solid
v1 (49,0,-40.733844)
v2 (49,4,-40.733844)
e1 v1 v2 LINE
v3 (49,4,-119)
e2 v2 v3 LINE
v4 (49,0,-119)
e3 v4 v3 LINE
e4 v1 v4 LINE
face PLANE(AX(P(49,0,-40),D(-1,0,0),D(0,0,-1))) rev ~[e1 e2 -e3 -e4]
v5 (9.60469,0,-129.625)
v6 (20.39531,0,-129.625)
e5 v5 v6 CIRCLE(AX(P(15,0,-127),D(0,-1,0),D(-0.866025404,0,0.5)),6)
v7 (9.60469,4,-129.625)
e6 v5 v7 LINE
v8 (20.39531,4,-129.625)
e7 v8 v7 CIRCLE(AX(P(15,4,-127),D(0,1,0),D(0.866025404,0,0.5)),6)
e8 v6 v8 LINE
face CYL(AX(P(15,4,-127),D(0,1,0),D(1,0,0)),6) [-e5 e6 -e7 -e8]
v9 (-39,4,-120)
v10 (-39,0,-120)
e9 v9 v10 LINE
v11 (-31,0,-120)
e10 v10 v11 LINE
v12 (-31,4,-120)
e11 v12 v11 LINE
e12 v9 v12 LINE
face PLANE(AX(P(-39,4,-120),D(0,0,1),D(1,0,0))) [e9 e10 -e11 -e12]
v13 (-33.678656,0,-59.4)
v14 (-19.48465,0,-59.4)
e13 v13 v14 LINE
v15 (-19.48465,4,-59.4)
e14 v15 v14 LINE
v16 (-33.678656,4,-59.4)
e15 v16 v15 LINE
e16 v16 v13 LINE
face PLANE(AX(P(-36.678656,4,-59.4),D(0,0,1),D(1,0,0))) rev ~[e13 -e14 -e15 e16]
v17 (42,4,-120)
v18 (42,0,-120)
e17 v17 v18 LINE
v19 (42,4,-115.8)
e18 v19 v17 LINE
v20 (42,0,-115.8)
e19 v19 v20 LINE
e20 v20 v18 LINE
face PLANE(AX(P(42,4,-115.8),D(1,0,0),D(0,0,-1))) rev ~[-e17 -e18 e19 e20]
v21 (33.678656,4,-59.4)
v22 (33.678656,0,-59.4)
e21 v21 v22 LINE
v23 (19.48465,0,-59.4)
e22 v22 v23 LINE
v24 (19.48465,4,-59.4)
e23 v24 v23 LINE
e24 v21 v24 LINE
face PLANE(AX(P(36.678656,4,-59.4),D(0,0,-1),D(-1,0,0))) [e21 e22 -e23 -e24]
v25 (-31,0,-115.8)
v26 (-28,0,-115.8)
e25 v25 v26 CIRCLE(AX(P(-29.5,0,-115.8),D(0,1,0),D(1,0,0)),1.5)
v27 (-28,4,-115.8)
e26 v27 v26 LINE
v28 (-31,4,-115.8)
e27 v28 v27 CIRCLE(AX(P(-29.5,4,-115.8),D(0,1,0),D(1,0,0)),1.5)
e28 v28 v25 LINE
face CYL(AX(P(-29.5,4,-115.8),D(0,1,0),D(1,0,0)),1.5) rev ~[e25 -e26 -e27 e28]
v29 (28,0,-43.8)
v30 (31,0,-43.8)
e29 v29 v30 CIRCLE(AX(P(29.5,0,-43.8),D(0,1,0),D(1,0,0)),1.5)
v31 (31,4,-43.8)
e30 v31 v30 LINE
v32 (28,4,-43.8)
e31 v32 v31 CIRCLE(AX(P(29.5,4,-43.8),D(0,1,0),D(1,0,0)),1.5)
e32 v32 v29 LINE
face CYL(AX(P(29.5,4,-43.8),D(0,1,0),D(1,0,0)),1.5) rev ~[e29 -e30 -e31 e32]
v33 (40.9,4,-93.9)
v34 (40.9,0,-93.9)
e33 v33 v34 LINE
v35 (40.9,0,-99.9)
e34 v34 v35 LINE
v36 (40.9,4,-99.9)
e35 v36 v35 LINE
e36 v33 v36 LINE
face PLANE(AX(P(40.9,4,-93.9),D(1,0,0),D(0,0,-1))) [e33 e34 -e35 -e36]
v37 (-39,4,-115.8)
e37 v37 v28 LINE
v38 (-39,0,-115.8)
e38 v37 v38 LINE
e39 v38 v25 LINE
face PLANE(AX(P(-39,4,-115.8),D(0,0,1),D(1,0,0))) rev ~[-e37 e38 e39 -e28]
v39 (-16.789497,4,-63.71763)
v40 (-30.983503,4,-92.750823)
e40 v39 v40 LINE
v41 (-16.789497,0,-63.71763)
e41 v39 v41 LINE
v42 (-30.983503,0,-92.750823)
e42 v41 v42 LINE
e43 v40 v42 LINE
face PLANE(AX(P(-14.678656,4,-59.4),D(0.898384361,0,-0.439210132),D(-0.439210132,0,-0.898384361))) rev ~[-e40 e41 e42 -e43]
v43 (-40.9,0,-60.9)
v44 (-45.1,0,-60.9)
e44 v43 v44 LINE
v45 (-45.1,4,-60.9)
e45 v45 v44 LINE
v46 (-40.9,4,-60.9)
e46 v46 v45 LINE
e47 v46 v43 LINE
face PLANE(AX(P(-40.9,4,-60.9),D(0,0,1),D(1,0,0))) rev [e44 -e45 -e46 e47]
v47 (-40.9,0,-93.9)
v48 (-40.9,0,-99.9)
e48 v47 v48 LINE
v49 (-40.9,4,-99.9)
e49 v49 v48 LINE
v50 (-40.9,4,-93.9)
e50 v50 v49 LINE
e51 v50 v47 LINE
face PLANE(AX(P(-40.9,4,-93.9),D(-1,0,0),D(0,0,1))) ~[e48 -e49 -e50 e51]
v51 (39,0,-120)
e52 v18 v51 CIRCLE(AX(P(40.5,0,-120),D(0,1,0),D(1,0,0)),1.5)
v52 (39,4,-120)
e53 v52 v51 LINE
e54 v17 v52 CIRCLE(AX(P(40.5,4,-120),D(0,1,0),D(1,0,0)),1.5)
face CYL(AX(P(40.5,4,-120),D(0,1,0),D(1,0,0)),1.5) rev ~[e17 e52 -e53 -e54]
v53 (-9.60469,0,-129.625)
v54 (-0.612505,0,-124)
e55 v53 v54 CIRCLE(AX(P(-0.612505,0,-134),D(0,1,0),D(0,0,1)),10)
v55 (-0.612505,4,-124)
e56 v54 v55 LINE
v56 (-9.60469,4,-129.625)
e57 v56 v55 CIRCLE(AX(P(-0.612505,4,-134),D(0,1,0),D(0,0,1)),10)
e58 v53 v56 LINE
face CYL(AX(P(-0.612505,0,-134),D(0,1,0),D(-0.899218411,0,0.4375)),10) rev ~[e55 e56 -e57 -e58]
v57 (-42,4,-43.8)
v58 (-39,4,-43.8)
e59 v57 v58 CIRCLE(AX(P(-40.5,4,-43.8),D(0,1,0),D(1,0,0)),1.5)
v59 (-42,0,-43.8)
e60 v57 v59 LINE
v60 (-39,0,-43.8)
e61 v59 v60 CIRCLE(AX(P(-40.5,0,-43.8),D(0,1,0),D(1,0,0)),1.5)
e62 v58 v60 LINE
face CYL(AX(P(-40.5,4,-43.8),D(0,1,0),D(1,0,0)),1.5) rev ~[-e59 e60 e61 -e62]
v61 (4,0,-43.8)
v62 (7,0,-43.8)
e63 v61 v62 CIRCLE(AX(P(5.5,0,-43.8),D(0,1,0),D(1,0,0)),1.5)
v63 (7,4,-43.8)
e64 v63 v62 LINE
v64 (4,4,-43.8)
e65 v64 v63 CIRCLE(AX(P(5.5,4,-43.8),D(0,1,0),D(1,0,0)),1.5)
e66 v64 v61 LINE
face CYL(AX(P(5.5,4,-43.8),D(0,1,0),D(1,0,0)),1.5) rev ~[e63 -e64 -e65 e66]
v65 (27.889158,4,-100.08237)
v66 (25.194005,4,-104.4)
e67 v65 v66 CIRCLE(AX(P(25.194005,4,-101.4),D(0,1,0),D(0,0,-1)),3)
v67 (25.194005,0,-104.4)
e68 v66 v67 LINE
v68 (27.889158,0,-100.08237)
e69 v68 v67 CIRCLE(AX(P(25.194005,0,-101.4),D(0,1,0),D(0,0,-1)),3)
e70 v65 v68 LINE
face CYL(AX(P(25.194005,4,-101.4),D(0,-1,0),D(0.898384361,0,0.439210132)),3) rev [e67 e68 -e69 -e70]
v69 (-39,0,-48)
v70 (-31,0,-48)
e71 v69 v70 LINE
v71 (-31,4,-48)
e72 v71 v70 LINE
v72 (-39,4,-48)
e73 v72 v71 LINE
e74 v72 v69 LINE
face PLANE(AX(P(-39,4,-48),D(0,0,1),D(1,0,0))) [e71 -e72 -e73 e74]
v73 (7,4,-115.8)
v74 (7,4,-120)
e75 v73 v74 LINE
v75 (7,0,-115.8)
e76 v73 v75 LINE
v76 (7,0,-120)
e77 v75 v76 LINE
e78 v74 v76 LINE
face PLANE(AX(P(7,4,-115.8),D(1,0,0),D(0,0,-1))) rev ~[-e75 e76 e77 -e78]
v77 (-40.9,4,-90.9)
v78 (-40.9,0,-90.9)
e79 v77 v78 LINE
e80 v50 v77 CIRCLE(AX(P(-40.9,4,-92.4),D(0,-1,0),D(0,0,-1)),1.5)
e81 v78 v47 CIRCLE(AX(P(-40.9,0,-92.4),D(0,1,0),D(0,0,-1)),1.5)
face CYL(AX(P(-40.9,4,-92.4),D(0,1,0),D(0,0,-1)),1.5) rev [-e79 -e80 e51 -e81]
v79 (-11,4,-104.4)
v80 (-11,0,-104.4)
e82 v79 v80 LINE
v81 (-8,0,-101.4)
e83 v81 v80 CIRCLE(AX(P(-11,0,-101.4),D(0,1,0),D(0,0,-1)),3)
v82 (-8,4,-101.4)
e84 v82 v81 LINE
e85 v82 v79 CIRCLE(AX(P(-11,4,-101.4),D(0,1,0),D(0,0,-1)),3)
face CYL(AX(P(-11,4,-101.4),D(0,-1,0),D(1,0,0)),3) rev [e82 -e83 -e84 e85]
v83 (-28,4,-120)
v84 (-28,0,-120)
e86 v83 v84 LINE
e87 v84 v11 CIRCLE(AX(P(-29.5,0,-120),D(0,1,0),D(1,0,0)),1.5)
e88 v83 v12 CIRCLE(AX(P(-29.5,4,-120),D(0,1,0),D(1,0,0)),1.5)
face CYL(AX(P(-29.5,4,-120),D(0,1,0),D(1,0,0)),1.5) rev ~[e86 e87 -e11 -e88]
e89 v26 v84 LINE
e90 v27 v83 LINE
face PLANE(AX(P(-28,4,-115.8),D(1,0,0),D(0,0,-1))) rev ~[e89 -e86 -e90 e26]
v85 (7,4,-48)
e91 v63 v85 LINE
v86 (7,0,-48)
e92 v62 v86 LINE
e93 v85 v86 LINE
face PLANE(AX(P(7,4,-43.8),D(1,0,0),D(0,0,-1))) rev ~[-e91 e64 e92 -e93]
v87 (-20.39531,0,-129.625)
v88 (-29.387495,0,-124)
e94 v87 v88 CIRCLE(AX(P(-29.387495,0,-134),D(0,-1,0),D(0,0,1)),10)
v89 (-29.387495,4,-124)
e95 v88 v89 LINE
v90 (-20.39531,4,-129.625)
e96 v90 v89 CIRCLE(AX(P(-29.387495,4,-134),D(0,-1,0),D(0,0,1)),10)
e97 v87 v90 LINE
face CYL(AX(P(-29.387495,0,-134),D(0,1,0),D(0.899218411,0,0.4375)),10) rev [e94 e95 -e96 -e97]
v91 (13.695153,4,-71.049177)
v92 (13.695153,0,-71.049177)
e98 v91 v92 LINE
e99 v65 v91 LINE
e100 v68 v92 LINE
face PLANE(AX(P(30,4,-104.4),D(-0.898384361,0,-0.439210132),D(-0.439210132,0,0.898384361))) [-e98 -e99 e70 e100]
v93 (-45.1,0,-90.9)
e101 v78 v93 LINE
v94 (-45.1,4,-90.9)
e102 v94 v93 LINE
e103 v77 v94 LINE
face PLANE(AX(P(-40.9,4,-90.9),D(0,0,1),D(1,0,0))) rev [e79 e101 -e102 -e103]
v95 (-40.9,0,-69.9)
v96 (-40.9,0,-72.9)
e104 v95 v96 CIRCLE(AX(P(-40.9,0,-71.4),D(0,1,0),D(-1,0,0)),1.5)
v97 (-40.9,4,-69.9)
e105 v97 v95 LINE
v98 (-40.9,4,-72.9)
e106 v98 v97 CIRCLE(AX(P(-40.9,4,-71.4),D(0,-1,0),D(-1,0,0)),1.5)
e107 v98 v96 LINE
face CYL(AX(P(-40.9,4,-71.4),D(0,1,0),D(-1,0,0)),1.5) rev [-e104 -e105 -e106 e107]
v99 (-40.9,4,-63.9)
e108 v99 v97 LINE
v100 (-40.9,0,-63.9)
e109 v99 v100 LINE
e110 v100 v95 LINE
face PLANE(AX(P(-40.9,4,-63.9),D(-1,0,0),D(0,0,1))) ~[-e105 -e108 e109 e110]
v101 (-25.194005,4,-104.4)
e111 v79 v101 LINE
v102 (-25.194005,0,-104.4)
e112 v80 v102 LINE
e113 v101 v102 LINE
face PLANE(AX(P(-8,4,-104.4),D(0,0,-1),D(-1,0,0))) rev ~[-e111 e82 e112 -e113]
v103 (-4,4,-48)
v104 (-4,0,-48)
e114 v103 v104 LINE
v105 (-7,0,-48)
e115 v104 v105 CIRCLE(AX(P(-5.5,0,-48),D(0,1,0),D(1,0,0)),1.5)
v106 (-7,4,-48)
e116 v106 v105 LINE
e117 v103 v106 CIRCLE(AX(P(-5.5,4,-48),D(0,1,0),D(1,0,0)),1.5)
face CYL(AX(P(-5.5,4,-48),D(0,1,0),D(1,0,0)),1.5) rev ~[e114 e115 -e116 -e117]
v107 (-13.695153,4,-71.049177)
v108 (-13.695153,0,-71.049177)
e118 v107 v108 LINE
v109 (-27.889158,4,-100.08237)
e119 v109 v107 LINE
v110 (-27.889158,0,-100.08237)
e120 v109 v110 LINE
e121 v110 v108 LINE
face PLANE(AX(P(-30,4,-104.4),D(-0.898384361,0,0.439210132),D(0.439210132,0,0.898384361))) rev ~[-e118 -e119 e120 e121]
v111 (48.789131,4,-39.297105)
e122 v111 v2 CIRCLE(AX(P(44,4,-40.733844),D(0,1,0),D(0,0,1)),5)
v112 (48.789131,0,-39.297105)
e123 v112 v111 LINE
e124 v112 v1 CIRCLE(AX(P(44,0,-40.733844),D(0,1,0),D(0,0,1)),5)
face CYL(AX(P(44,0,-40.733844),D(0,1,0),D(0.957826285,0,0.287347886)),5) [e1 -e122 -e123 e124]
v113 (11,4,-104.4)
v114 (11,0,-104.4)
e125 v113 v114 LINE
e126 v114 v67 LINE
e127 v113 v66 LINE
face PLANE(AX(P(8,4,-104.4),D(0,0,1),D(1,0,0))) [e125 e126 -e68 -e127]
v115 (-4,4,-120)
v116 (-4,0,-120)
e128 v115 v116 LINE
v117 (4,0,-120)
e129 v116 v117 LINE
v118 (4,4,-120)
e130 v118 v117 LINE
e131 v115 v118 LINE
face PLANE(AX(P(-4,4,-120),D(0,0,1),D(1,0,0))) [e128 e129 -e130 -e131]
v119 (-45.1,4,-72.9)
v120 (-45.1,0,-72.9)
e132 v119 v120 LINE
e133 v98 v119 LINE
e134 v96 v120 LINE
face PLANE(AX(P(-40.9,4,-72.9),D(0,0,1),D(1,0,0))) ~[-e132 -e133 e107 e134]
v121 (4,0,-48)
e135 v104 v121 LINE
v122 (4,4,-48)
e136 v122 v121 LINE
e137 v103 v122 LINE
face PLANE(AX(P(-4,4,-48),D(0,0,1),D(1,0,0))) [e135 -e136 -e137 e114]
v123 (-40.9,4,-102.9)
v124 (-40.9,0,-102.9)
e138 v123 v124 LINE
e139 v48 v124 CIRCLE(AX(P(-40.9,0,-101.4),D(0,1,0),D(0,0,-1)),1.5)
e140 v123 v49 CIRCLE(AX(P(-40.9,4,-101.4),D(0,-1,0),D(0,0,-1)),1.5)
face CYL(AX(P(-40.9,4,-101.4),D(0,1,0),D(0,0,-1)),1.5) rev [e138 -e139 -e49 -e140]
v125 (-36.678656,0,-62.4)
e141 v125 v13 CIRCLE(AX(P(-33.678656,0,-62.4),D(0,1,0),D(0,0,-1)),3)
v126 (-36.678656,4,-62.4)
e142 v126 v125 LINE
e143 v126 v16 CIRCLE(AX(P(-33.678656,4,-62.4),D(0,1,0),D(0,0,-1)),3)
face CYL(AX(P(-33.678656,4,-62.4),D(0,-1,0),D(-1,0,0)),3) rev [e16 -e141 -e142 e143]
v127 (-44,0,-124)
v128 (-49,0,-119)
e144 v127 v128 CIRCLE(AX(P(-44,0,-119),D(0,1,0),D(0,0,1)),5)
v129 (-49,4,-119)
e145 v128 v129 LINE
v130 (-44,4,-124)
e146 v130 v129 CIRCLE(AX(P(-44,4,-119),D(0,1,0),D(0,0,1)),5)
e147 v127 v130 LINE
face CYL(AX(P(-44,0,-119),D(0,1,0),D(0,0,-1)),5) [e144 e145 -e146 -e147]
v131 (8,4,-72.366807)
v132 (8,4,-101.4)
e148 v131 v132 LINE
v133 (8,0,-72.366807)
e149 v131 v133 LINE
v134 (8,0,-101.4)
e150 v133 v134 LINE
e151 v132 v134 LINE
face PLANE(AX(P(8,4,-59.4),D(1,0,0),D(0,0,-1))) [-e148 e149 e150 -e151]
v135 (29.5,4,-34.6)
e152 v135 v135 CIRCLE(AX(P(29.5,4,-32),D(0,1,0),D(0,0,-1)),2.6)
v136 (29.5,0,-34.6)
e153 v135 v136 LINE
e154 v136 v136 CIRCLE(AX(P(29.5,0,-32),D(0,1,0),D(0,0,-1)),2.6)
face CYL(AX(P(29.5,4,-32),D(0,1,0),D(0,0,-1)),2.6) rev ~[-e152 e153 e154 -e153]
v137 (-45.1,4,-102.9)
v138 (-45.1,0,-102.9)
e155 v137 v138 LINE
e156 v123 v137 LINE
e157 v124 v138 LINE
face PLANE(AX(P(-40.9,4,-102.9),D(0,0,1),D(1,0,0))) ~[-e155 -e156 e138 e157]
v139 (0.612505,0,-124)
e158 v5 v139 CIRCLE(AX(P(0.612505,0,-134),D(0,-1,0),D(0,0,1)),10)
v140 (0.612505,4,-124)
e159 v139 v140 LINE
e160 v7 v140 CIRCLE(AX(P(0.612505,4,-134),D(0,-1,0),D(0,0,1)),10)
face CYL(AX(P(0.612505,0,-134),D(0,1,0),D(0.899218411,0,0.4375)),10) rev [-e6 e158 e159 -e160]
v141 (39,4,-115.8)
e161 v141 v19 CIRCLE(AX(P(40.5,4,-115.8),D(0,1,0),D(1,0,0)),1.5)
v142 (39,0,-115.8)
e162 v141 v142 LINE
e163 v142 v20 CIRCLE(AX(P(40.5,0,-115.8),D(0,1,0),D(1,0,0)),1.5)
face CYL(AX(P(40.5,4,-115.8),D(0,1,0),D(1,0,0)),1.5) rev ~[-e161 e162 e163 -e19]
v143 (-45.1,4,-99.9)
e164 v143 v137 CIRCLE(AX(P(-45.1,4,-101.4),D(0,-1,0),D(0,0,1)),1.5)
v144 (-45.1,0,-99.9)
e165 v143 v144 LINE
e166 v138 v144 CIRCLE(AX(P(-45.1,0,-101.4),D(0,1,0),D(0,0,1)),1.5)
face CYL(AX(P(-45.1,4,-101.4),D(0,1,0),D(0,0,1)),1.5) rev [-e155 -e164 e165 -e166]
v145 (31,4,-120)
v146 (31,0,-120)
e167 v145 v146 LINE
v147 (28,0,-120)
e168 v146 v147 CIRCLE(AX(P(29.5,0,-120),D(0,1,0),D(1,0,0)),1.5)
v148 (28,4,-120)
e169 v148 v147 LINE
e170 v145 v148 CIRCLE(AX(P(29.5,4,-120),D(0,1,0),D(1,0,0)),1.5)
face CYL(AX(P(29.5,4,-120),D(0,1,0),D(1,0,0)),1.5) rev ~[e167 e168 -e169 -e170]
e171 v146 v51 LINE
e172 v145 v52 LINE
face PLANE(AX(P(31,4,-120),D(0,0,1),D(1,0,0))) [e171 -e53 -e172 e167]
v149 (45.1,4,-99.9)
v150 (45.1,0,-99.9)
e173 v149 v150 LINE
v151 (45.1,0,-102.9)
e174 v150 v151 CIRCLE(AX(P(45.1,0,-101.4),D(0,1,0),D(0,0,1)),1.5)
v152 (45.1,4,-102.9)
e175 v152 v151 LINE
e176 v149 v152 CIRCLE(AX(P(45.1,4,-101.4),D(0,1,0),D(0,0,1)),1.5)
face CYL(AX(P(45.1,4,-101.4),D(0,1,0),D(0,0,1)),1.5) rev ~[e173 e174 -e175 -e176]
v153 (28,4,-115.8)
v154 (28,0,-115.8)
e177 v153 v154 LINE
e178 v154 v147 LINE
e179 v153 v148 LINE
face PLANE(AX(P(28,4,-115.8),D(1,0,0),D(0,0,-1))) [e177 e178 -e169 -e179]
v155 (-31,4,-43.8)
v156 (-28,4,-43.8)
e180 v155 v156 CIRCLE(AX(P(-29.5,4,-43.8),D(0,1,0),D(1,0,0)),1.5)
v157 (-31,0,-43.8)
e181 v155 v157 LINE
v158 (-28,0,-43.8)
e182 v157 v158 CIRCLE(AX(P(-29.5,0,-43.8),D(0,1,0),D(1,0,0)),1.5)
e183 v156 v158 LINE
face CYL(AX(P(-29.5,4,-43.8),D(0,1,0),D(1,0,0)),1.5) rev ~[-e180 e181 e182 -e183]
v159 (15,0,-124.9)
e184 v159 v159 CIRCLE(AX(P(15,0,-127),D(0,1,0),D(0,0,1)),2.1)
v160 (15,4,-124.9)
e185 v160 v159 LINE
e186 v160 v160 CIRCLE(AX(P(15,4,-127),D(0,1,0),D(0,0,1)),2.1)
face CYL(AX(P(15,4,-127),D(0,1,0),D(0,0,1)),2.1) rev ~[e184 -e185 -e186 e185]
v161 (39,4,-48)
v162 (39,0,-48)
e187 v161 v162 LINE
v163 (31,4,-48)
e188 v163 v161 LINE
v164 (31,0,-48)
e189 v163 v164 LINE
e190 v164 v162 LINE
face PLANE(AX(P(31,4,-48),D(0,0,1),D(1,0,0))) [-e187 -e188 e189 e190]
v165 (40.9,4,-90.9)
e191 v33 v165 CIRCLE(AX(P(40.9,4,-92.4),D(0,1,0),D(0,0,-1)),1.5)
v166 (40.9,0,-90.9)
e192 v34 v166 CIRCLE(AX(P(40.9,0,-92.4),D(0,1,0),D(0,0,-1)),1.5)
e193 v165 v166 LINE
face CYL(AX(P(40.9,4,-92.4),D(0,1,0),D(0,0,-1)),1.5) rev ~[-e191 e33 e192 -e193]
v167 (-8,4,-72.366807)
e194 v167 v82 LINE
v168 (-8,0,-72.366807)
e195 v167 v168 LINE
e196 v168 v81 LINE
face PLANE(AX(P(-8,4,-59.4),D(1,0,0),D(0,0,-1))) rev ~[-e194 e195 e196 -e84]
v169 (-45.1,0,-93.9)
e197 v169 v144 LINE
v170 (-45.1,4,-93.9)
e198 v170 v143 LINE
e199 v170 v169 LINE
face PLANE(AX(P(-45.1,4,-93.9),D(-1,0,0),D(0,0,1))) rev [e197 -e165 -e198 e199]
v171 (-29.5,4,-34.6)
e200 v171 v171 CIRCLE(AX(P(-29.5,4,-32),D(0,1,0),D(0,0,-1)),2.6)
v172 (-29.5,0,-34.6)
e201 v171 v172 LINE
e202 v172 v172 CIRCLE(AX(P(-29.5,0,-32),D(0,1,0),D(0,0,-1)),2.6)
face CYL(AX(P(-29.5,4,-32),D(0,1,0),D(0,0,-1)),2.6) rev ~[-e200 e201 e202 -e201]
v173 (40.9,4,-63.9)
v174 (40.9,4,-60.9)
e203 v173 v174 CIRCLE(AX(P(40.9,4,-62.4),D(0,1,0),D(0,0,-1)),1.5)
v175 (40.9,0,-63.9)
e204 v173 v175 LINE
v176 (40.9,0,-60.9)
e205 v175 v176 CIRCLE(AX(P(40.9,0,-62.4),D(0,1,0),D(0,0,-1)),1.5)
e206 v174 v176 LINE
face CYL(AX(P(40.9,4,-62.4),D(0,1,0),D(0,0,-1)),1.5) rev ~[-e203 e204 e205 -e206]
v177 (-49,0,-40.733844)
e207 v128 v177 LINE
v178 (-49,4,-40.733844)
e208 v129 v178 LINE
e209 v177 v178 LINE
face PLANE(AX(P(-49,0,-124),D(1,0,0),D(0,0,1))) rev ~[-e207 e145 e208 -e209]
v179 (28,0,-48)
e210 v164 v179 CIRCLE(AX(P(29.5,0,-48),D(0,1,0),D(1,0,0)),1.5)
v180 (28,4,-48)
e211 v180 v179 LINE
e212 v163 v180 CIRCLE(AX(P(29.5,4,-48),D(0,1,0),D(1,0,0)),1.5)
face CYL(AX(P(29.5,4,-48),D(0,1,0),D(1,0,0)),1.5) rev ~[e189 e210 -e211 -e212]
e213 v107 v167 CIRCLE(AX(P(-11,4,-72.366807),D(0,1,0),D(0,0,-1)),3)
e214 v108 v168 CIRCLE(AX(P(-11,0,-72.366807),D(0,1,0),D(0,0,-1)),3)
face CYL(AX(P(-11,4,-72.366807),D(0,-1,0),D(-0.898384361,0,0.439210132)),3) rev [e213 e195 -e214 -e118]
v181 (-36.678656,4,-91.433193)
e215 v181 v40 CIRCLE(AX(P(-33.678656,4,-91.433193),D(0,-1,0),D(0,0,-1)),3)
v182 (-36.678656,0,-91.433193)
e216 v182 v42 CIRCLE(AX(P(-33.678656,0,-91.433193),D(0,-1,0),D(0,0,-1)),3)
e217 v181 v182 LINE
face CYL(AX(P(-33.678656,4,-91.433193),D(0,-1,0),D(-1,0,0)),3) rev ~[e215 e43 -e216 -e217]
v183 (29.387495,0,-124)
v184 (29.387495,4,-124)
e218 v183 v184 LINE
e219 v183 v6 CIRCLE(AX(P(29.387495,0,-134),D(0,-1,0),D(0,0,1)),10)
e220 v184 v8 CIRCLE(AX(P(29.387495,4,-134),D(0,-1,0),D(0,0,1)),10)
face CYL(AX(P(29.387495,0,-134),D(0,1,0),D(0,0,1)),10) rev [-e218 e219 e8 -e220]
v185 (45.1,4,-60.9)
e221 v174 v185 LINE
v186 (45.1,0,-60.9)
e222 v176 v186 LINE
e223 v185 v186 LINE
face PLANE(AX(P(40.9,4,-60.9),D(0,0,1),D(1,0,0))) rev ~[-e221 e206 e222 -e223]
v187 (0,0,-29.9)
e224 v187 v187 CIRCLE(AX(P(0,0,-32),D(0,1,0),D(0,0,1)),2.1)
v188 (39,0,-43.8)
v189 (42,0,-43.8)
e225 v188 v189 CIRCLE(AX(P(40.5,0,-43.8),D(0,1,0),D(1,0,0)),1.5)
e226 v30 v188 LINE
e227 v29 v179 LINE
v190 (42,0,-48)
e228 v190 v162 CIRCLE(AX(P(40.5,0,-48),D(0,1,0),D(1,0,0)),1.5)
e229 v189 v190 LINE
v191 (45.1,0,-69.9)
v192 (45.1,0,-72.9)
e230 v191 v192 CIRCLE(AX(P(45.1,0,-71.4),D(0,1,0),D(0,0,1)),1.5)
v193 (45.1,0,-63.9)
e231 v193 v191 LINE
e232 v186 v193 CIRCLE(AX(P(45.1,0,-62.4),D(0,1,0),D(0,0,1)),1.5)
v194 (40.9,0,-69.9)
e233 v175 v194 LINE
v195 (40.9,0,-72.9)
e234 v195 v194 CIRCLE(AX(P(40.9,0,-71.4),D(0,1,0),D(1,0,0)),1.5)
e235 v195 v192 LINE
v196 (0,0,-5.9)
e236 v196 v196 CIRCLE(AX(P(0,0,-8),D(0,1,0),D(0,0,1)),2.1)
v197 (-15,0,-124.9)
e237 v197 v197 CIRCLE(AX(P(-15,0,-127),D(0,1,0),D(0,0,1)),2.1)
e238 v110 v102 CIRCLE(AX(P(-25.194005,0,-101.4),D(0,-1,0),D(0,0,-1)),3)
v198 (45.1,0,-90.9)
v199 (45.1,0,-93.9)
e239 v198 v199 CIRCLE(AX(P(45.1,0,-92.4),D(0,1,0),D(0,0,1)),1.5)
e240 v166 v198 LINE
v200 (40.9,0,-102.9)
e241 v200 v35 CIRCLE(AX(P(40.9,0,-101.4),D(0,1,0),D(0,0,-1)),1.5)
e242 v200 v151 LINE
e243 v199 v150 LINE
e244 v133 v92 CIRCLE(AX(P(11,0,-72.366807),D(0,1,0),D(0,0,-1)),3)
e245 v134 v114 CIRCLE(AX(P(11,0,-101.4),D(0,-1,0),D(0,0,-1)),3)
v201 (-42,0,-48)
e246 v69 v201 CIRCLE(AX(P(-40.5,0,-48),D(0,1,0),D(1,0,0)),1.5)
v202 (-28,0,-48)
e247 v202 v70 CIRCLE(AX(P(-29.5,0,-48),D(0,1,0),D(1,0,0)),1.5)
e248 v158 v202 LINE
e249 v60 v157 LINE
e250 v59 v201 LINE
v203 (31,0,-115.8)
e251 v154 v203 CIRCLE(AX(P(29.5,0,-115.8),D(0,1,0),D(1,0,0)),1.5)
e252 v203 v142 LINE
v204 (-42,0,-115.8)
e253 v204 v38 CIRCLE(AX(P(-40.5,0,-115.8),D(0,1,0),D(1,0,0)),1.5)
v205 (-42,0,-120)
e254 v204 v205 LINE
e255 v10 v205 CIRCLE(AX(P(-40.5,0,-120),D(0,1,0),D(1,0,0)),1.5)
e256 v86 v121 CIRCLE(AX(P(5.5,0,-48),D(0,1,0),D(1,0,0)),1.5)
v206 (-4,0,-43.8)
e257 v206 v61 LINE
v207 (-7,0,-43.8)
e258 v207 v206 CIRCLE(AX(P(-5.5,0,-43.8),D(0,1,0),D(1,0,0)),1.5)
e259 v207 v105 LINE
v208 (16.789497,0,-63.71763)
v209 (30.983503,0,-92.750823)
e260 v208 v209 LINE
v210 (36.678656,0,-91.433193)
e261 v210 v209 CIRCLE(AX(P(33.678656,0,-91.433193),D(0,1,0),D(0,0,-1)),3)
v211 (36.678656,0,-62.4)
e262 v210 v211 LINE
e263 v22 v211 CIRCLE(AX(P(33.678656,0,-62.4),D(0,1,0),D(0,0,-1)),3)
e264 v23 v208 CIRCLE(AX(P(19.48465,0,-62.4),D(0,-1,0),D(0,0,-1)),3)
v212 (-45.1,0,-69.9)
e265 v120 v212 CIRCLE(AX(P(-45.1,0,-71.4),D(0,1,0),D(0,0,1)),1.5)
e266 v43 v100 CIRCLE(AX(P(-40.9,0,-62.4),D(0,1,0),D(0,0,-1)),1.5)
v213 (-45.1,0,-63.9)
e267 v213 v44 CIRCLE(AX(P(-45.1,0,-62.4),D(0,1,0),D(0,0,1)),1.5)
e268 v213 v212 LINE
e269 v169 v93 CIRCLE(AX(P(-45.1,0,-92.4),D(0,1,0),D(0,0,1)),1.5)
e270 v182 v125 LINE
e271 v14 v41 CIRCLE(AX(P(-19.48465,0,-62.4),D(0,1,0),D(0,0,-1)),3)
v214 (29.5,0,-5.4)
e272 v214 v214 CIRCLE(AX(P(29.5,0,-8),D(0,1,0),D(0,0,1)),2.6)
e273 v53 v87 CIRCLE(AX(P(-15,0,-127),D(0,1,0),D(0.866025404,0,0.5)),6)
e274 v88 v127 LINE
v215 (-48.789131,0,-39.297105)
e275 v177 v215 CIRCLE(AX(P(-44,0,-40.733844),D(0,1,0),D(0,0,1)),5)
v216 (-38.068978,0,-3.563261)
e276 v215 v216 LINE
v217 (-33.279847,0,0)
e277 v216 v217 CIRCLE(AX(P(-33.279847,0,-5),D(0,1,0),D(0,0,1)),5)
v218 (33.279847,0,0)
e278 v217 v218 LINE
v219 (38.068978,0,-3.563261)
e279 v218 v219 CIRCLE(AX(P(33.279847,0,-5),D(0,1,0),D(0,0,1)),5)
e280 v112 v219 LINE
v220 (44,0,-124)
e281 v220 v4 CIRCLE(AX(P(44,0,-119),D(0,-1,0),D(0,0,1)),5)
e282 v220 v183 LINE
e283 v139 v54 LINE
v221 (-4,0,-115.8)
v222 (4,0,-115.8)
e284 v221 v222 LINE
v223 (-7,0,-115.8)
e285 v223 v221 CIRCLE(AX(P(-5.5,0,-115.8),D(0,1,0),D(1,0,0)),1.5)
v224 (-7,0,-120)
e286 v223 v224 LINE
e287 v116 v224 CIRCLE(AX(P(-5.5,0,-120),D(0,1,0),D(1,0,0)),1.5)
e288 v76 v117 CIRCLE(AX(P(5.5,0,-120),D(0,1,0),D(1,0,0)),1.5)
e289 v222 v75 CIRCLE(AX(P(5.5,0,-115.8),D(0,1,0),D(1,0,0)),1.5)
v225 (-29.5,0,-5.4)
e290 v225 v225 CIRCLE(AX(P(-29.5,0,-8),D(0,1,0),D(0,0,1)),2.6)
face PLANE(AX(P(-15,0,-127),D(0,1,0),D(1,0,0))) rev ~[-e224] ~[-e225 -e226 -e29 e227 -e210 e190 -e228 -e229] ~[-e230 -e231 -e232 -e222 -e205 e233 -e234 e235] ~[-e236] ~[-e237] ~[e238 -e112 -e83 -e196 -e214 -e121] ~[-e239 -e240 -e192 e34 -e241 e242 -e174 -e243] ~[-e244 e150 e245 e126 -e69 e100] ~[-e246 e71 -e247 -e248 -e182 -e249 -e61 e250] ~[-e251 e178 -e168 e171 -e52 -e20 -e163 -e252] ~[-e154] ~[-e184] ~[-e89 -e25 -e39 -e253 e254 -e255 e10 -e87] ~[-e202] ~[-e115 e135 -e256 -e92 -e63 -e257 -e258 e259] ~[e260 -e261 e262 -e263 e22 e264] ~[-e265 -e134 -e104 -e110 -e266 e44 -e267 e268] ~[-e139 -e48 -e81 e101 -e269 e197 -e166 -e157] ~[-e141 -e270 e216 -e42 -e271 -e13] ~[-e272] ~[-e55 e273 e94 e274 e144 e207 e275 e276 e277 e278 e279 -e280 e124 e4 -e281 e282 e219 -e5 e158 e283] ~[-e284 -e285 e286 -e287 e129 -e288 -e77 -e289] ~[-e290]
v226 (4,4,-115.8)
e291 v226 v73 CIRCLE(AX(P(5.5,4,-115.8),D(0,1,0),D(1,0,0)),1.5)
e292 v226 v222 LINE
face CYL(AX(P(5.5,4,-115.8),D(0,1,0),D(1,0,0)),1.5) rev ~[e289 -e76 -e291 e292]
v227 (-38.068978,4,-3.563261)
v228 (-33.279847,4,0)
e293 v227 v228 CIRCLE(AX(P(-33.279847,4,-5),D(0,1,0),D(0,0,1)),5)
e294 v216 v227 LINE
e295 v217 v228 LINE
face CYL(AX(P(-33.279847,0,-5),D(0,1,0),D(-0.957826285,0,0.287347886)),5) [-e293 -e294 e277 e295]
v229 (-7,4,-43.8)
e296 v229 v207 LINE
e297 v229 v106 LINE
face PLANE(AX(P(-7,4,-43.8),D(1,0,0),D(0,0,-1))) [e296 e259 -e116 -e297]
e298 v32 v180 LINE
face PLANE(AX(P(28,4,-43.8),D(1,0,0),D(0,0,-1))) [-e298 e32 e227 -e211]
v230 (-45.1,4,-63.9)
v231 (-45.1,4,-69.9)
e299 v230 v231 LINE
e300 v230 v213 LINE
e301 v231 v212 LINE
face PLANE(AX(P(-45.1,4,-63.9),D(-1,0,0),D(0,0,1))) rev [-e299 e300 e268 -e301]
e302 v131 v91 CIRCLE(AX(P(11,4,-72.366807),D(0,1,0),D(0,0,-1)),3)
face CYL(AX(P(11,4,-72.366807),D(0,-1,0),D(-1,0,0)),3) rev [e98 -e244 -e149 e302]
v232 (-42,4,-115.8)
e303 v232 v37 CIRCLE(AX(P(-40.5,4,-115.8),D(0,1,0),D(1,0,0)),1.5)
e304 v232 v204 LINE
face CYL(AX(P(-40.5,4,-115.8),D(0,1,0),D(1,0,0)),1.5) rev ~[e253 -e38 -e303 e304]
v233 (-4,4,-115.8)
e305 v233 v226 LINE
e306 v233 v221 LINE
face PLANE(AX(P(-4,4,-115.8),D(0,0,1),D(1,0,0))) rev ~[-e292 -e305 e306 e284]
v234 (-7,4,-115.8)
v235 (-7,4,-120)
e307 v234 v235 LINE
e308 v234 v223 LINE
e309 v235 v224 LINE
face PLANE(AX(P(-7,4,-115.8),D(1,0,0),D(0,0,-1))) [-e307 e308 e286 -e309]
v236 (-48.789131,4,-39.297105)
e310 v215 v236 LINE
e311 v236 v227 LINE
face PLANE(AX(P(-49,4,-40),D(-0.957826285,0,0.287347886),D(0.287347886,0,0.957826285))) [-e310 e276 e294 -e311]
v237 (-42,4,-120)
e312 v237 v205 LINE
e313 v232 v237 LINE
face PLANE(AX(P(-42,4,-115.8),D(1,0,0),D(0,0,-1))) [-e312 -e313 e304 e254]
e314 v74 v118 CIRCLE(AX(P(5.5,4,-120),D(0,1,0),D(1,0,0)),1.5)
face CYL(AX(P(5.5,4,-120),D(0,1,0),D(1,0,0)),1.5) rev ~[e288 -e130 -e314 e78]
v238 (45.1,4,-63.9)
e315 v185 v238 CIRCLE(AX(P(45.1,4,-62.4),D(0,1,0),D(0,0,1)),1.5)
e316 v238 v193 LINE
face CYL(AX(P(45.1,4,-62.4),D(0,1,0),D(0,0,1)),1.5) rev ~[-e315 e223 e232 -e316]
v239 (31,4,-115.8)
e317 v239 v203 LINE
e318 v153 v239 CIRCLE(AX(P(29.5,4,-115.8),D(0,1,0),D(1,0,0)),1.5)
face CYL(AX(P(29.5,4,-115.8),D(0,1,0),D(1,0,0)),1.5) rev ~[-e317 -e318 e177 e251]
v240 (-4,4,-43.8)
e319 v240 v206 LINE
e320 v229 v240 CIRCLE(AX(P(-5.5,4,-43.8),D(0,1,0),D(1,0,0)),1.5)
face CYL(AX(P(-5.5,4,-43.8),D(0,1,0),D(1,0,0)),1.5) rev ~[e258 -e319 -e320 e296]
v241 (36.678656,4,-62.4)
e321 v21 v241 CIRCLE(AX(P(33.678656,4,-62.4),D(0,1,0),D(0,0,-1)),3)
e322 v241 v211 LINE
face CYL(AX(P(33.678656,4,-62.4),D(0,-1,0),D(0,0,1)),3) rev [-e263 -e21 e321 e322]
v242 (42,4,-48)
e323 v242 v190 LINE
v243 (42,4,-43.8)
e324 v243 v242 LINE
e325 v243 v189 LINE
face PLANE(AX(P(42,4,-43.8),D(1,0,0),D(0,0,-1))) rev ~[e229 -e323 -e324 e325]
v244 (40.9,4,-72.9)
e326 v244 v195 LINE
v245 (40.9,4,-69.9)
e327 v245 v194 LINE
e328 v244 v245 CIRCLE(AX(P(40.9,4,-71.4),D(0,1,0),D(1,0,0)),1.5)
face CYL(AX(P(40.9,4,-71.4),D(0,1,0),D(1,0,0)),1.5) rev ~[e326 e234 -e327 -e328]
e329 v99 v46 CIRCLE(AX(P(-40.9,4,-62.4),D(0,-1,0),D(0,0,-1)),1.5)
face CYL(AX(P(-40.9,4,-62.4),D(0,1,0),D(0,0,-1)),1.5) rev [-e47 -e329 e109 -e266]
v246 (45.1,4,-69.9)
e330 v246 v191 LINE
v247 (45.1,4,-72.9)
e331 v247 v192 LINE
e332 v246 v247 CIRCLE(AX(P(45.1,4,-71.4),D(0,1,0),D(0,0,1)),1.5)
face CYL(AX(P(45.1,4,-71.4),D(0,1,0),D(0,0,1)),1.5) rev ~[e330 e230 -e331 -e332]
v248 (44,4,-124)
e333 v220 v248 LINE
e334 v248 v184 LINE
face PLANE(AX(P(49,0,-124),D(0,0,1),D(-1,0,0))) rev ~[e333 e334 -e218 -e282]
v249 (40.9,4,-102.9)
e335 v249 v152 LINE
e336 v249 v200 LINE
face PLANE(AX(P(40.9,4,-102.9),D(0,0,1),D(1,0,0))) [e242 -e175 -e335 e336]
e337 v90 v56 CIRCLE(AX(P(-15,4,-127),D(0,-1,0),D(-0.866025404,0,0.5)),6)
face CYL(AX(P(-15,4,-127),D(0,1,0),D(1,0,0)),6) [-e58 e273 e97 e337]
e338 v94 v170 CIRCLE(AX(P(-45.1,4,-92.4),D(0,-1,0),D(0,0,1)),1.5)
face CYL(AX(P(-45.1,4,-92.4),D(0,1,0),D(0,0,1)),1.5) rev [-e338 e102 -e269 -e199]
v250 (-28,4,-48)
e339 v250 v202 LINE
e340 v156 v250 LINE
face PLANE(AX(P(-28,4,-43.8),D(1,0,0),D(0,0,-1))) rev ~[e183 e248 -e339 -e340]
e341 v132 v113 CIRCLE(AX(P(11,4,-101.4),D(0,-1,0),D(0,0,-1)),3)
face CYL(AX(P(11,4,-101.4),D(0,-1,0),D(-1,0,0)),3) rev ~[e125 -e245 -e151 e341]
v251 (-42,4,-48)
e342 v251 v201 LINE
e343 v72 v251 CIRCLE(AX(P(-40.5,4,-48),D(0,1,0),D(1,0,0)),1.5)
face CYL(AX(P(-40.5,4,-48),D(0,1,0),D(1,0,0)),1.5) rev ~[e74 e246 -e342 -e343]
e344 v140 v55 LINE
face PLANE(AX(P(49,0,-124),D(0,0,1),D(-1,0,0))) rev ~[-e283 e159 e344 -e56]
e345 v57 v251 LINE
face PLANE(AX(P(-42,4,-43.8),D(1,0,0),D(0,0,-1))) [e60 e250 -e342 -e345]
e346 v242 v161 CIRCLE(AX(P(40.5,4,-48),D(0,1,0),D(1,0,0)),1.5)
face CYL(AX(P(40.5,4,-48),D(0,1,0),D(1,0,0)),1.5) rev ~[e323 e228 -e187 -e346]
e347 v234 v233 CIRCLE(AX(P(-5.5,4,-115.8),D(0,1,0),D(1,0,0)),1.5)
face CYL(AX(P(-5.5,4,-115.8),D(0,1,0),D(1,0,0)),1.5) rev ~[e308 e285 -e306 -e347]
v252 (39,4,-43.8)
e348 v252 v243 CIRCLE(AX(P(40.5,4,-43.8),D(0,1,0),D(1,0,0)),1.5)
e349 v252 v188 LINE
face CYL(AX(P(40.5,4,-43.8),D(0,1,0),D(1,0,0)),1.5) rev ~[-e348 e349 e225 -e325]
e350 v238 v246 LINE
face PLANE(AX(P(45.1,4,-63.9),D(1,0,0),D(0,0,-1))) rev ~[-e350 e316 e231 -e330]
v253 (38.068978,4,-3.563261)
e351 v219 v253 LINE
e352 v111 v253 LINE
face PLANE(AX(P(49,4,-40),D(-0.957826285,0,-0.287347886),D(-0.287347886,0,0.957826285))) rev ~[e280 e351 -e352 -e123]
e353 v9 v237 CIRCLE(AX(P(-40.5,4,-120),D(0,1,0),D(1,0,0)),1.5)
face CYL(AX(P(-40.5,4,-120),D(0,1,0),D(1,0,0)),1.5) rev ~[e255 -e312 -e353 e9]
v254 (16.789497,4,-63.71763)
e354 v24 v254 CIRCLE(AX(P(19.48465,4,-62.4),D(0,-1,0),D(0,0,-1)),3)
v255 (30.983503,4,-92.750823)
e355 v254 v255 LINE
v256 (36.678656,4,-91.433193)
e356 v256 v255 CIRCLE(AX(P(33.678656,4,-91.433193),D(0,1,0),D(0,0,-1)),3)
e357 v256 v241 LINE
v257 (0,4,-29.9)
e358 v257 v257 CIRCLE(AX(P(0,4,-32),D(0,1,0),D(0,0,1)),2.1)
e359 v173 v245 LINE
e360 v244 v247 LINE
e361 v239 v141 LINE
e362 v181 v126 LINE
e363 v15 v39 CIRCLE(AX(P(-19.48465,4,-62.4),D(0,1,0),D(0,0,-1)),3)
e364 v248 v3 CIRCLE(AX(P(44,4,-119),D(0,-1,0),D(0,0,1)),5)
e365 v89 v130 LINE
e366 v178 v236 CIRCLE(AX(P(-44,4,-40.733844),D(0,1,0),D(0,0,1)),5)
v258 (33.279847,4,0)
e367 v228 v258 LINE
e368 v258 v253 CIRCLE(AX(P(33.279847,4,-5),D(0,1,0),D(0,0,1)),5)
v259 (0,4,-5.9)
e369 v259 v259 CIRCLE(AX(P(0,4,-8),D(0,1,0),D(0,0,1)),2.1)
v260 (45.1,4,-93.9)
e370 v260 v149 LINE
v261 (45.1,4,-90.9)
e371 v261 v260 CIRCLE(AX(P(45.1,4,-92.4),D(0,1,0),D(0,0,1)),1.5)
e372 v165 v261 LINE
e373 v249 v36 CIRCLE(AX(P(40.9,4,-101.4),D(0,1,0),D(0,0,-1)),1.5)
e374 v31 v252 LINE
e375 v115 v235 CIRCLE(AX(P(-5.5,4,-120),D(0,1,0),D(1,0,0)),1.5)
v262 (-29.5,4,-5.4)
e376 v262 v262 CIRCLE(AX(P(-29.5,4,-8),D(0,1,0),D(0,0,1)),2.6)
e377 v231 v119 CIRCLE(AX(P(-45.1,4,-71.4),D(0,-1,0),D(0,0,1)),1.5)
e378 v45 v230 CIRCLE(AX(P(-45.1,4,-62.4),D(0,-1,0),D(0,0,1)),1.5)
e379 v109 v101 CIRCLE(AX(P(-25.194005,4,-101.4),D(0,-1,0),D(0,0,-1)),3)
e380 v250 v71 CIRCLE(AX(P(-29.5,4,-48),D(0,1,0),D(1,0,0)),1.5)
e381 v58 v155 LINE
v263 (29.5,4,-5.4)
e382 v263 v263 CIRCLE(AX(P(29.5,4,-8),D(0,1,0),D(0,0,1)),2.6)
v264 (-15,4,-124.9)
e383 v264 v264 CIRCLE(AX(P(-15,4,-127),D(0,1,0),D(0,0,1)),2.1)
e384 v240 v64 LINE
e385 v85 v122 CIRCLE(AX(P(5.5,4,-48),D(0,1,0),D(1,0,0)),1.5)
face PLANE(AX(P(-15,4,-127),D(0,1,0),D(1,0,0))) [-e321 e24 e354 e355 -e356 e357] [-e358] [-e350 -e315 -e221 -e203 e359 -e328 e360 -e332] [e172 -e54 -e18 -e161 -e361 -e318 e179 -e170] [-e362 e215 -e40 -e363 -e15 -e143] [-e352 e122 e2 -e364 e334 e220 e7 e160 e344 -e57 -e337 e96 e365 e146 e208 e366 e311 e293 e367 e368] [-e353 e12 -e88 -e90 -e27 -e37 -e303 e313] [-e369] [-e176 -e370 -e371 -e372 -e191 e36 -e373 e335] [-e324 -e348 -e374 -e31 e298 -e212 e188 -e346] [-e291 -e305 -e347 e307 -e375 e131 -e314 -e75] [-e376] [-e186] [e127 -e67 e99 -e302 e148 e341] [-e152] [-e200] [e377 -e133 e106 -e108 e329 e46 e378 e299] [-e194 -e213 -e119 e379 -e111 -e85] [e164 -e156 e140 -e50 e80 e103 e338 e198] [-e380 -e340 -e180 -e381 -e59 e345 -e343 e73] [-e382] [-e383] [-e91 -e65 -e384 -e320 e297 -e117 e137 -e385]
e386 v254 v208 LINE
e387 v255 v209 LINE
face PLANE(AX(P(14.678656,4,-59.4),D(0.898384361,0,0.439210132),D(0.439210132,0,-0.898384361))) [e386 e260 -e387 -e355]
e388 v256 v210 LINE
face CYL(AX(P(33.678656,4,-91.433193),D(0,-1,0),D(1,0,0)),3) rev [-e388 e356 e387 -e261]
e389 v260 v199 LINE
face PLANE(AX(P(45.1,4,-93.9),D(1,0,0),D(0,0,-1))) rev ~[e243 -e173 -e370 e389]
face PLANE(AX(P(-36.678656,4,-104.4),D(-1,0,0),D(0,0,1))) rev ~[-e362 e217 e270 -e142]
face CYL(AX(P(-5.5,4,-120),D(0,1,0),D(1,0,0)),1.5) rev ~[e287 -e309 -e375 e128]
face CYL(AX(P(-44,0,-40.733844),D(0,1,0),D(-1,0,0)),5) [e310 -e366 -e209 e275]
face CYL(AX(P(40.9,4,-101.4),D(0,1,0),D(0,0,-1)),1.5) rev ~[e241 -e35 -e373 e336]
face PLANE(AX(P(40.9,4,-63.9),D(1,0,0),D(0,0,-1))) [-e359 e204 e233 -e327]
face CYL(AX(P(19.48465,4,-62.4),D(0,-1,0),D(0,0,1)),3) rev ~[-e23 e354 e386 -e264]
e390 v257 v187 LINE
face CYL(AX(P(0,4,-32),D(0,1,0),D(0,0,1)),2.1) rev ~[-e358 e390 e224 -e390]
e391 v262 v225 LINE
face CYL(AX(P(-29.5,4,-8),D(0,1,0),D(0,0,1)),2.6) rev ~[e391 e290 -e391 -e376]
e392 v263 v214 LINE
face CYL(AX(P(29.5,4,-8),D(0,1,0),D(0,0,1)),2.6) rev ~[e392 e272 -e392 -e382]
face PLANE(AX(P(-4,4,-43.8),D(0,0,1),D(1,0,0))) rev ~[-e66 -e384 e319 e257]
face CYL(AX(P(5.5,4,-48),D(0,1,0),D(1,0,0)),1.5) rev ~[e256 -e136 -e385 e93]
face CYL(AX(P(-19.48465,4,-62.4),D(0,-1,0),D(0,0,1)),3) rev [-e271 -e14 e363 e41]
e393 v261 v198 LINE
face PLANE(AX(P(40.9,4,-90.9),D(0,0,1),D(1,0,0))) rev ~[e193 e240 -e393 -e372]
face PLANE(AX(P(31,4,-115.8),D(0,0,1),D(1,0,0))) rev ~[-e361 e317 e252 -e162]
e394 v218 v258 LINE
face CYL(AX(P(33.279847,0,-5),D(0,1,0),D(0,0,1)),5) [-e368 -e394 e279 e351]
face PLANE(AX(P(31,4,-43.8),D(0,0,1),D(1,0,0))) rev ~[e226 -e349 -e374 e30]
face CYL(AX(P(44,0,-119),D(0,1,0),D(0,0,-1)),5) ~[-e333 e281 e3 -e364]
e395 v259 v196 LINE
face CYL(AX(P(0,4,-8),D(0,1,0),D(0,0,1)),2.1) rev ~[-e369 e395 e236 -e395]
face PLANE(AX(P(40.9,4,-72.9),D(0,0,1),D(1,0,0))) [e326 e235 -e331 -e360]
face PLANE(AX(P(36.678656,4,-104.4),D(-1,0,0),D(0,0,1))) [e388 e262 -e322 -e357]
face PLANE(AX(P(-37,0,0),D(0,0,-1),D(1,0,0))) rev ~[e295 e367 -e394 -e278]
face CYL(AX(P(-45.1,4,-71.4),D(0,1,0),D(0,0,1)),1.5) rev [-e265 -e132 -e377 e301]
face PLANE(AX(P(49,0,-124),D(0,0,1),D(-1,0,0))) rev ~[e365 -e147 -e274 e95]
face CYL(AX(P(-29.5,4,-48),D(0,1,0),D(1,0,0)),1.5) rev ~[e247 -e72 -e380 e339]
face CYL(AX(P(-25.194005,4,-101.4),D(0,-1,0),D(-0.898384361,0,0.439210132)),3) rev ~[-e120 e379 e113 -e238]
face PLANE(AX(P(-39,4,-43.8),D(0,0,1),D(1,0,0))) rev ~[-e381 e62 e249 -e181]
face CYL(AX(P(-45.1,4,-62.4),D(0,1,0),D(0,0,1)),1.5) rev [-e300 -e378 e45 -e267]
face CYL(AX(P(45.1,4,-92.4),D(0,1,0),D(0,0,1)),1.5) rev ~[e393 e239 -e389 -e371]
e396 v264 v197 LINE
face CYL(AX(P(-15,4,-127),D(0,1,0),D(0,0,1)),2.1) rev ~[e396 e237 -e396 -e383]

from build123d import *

# Parameters (mm, degrees)
EXTRUDE_1_DEPTH     = 4
SKETCH_2_R          = 2.6
SKETCH_2_R_2        = 2.1
CUT_EXTRUDE_1_DEPTH = 4
SKETCH_3_R          = 1.5
SKETCH_3_W          = 14
SKETCH_3_H          = 4.2
CUT_EXTRUDE_2_DEPTH = 4
EXTRUDE_2_DEPTH     = 4
SKETCH_5_R          = 6
SKETCH_5_R_2        = 2.1
EXTRUDE_3_DEPTH     = 4
FILLET_1_R          = 10
SKETCH_6_R          = 1.5
SKETCH_6_W          = 4.2
SKETCH_6_H          = 12
CUT_EXTRUDE_3_DEPTH = 10
CUT_EXTRUDE_4_DEPTH = 5
FILLET_3_R          = 3
FILLET_4_R          = 5


with BuildPart() as part:
    # 草图1 → 凸台-拉伸1 (new body)
    with BuildSketch(Plane(origin=(0, 0, 0), x_dir=(1, 0, 0), z_dir=(0, 1, 0))):
        Polygon((-37, 0), (37, 0), (37, 40), (49, 40), (49, 124), (-49, 124), (-49, 40), (-37, 40), align=None)
    extrude(amount=EXTRUDE_1_DEPTH)

    # 草图2 → 切除-拉伸1 (cut)
    with BuildSketch(Plane(origin=(0, 4, 0), x_dir=(1, 0, 0), z_dir=(0, 1, 0))):
        with Locations(Location((29.5, 8, 0), (0, 0, 270))):
            Circle(SKETCH_2_R)
        with Locations(Location((-29.5, 8, 0), (0, 0, 270))):
            Circle(SKETCH_2_R)
        with Locations(Location((29.5, 32, 0), (0, 0, 90))):
            Circle(SKETCH_2_R)
        with Locations(Location((-29.5, 32, 0), (0, 0, 90))):
            Circle(SKETCH_2_R)
        with Locations(Location((0, 32, 0), (0, 0, 270))):
            Circle(SKETCH_2_R_2)
        with Locations(Location((0, 8, 0), (0, 0, 270))):
            Circle(SKETCH_2_R_2)
    extrude(amount=-CUT_EXTRUDE_1_DEPTH, mode=Mode.SUBTRACT)

    # 草图3 → 切除-拉伸2 (cut)
    with BuildSketch(Plane(origin=(0, 4, 0), x_dir=(1, 0, 0), z_dir=(0, 1, 0))):
        with Locations((-5.5, 120)):
            Circle(SKETCH_3_R)
        with Locations((-5.5, 115.8)):
            Circle(SKETCH_3_R)
        with Locations((5.5, 120)):
            Circle(SKETCH_3_R)
        with Locations((5.5, 115.8)):
            Circle(SKETCH_3_R)
        with Locations((29.5, 115.8)):
            Circle(SKETCH_3_R)
        with Locations((29.5, 120)):
            Circle(SKETCH_3_R)
        with Locations((40.5, 120)):
            Circle(SKETCH_3_R)
        with Locations((40.5, 115.8)):
            Circle(SKETCH_3_R)
        with Locations((-40.5, 115.8)):
            Circle(SKETCH_3_R)
        with Locations((-40.5, 120)):
            Circle(SKETCH_3_R)
        with Locations((-29.5, 120)):
            Circle(SKETCH_3_R)
        with Locations((-29.5, 115.8)):
            Circle(SKETCH_3_R)
        with Locations((-29.5, 48)):
            Circle(SKETCH_3_R)
        with Locations((-29.5, 43.8)):
            Circle(SKETCH_3_R)
        with Locations((-40.5, 43.8)):
            Circle(SKETCH_3_R)
        with Locations((-40.5, 48)):
            Circle(SKETCH_3_R)
        with Locations((40.5, 48)):
            Circle(SKETCH_3_R)
        with Locations((40.5, 43.8)):
            Circle(SKETCH_3_R)
        with Locations((29.5, 43.8)):
            Circle(SKETCH_3_R)
        with Locations((29.5, 48)):
            Circle(SKETCH_3_R)
        with Locations((5.5, 48)):
            Circle(SKETCH_3_R)
        with Locations((5.5, 43.8)):
            Circle(SKETCH_3_R)
        with Locations((-5.5, 48)):
            Circle(SKETCH_3_R)
        with Locations((-5.5, 43.8)):
            Circle(SKETCH_3_R)
        with Locations((0, 117.9)):
            Rectangle(SKETCH_3_W, SKETCH_3_H)
        with Locations((35, 117.9)):
            Rectangle(SKETCH_3_W, SKETCH_3_H)
        with Locations((-35, 117.9)):
            Rectangle(SKETCH_3_W, SKETCH_3_H)
        with Locations((-35, 45.9)):
            Rectangle(SKETCH_3_W, SKETCH_3_H)
        with Locations((35, 45.9)):
            Rectangle(SKETCH_3_W, SKETCH_3_H)
        with Locations((0, 45.9)):
            Rectangle(SKETCH_3_W, SKETCH_3_H)
    extrude(amount=-CUT_EXTRUDE_2_DEPTH, mode=Mode.SUBTRACT)

    # 草图4 → 凸台-拉伸2 (add)
    with BuildSketch(Plane(origin=(0, 4, 0), x_dir=(1, 0, 0), z_dir=(0, 1, 0))):
        Polygon((-49, 40), (-37, 0), (-37, 40), align=None)
        Polygon((49, 40), (37, 0), (37, 40), align=None)
    extrude(amount=-EXTRUDE_2_DEPTH)

    # 草图5 → 凸台-拉伸3 (add)
    # profile 1 of 2: a face of its own
    with BuildSketch(Plane(origin=(0, 4, 0), x_dir=(1, 0, 0), z_dir=(0, 1, 0))):
        with Locations((-15, 127)):
            Circle(SKETCH_5_R)
        with Locations(Location((-15, 127, 0), (0, 0, 270))):
            Circle(SKETCH_5_R_2, mode=Mode.SUBTRACT)
    # profile 2 of 2: a face of its own
    with BuildSketch(Plane(origin=(0, 4, 0), x_dir=(1, 0, 0), z_dir=(0, 1, 0))):
        with Locations((15, 127)):
            Circle(SKETCH_5_R)
        with Locations(Location((15, 127, 0), (0, 0, 270))):
            Circle(SKETCH_5_R_2, mode=Mode.SUBTRACT)
    extrude(amount=-EXTRUDE_3_DEPTH)

    # 圆角1
    fillet_1_edges = [part.edges().sort_by_distance(p)[0] for p in [
        (9.803847577, 2, -124),
        (20.196152423, 2, -124),
        (-20.196152423, 2, -124),
        (-9.803847577, 2, -124),
    ]]
    fillet(fillet_1_edges, radius=FILLET_1_R)

    # 草图6 → 切除-拉伸3 (cut)
    with BuildSketch(Plane(origin=(0, 4, 0), x_dir=(1, 0, 0), z_dir=(0, 1, 0))):
        with BuildLine():
            ThreePointArc((40.9, 63.9), (39.4, 62.4), (40.9, 60.9))
            Line((40.9, 60.9), (40.9, 63.9))
        make_face()
        with BuildLine():
            Line((40.9, 63.9), (40.9, 60.9))
            ThreePointArc((40.9, 60.9), (41.960660172, 61.339339828), (42.4, 62.4))
            ThreePointArc((42.4, 62.4), (41.960660172, 63.460660172), (40.9, 63.9))
        make_face()
        with Locations((45.1, 62.4)):
            Circle(SKETCH_6_R)
        with Locations((45.1, 71.4)):
            Circle(SKETCH_6_R)
        with Locations((40.9, 71.4)):
            Circle(SKETCH_6_R)
        with Locations((40.9, 62.4)):
            Circle(SKETCH_6_R)
        with Locations((43, 66.9)):
            Rectangle(SKETCH_6_W, SKETCH_6_H)
        with BuildLine():
            ThreePointArc((45.1, 63.9), (43.6, 62.4), (45.1, 60.9))
            Line((45.1, 60.9), (45.1, 63.9))
        make_face()
        with BuildLine():
            Line((45.1, 63.9), (45.1, 60.9))
            ThreePointArc((45.1, 60.9), (46.160660172, 61.339339828), (46.6, 62.4))
            ThreePointArc((46.6, 62.4), (46.160660172, 63.460660172), (45.1, 63.9))
        make_face()
        with BuildLine():
            ThreePointArc((45.1, 72.9), (43.6, 71.4), (45.1, 69.9))
            Line((45.1, 69.9), (45.1, 72.9))
        make_face()
        with BuildLine():
            Line((45.1, 72.9), (45.1, 69.9))
            ThreePointArc((45.1, 69.9), (46.160660172, 70.339339828), (46.6, 71.4))
            ThreePointArc((46.6, 71.4), (46.160660172, 72.460660172), (45.1, 72.9))
        make_face()
        with BuildLine():
            ThreePointArc((40.9, 72.9), (39.4, 71.4), (40.9, 69.9))
            Line((40.9, 69.9), (40.9, 72.9))
        make_face()
        with BuildLine():
            Line((40.9, 72.9), (40.9, 69.9))
            ThreePointArc((40.9, 69.9), (41.960660172, 70.339339828), (42.4, 71.4))
            ThreePointArc((42.4, 71.4), (41.960660172, 72.460660172), (40.9, 72.9))
        make_face()
        with BuildLine():
            ThreePointArc((42.4, 92.4), (41.960660172, 93.460660172), (40.9, 93.9))
            Line((40.9, 93.9), (40.9, 90.9))
            ThreePointArc((40.9, 90.9), (41.960660172, 91.339339828), (42.4, 92.4))
        make_face()
        with BuildLine():
            Line((40.9, 90.9), (40.9, 93.9))
            ThreePointArc((40.9, 93.9), (39.4, 92.4), (40.9, 90.9))
        make_face()
        with BuildLine():
            ThreePointArc((42.4, 101.4), (41.960660172, 102.460660172), (40.9, 102.9))
            Line((40.9, 102.9), (40.9, 99.9))
            ThreePointArc((40.9, 99.9), (41.960660172, 100.339339828), (42.4, 101.4))
        make_face()
        with BuildLine():
            Line((40.9, 99.9), (40.9, 102.9))
            ThreePointArc((40.9, 102.9), (39.4, 101.4), (40.9, 99.9))
        make_face()
        with Locations((45.1, 92.4)):
            Circle(SKETCH_6_R)
        with Locations((45.1, 101.4)):
            Circle(SKETCH_6_R)
        with Locations((40.9, 101.4)):
            Circle(SKETCH_6_R)
        with Locations((40.9, 92.4)):
            Circle(SKETCH_6_R)
        with Locations((43, 96.9)):
            Rectangle(SKETCH_6_W, SKETCH_6_H)
        with BuildLine():
            ThreePointArc((46.6, 92.4), (46.160660172, 93.460660172), (45.1, 93.9))
            Line((45.1, 93.9), (45.1, 90.9))
            ThreePointArc((45.1, 90.9), (46.160660172, 91.339339828), (46.6, 92.4))
        make_face()
        with BuildLine():
            Line((45.1, 90.9), (45.1, 93.9))
            ThreePointArc((45.1, 93.9), (43.6, 92.4), (45.1, 90.9))
        make_face()
        with BuildLine():
            ThreePointArc((46.6, 101.4), (46.160660172, 102.460660172), (45.1, 102.9))
            Line((45.1, 102.9), (45.1, 99.9))
            ThreePointArc((45.1, 99.9), (46.160660172, 100.339339828), (46.6, 101.4))
        make_face()
        with BuildLine():
            Line((45.1, 99.9), (45.1, 102.9))
            ThreePointArc((45.1, 102.9), (43.6, 101.4), (45.1, 99.9))
        make_face()
    cut_extrude_3 = extrude(amount=-CUT_EXTRUDE_3_DEPTH, mode=Mode.SUBTRACT)

    # 草图7 → 切除-拉伸4 (cut)
    with BuildSketch(Plane(origin=(0, 4, 0), x_dir=(1, 0, 0), z_dir=(0, 1, 0))):
        Polygon((-36.678655886, 104.4), (-36.678655886, 59.4), (-14.678655886, 59.4), align=None)
        Polygon((-30, 104.4), (-8, 59.4), (-8, 104.4), align=None)
        Polygon((8, 104.4), (30, 104.4), (8, 59.4), align=None)
        Polygon((14.678655886, 59.4), (36.678655886, 104.4), (36.678655886, 59.4), align=None)
    extrude(amount=-CUT_EXTRUDE_4_DEPTH, mode=Mode.SUBTRACT)

    # 圆角3
    fillet_3_edges = [part.edges().sort_by_distance(p)[0] for p in [
        (-30, 2, -104.4),
        (-8, 2, -104.4),
        (-8, 2, -59.4),
        (8, 2, -59.4),
        (8, 2, -104.4),
        (30, 2, -104.4),
        (36.678655886, 2, -59.4),
        (14.678655886, 2, -59.4),
        (36.678655886, 2, -104.4),
        (-36.678655886, 2, -104.4),
        (-14.678655886, 2, -59.4),
        (-36.678655886, 2, -59.4),
    ]]
    fillet(fillet_3_edges, radius=FILLET_3_R)

    # 镜向1: 切除-拉伸3 across plane
    add(cut_extrude_3.mirror(Plane(origin=(0, 0, 0), x_dir=(0, 0, 1), z_dir=(1, 0, 0))), mode=Mode.SUBTRACT)

    # 圆角4
    fillet_4_edges = [part.edges().sort_by_distance(p)[0] for p in [
        (37, 2, 0),
        (-37, 2, 0),
        (-49, 2, -40),
        (-49, 2, -124),
        (49, 2, -124),
        (49, 2, -40),
    ]]
    fillet(fillet_4_edges, radius=FILLET_4_R)


solid = part.part
